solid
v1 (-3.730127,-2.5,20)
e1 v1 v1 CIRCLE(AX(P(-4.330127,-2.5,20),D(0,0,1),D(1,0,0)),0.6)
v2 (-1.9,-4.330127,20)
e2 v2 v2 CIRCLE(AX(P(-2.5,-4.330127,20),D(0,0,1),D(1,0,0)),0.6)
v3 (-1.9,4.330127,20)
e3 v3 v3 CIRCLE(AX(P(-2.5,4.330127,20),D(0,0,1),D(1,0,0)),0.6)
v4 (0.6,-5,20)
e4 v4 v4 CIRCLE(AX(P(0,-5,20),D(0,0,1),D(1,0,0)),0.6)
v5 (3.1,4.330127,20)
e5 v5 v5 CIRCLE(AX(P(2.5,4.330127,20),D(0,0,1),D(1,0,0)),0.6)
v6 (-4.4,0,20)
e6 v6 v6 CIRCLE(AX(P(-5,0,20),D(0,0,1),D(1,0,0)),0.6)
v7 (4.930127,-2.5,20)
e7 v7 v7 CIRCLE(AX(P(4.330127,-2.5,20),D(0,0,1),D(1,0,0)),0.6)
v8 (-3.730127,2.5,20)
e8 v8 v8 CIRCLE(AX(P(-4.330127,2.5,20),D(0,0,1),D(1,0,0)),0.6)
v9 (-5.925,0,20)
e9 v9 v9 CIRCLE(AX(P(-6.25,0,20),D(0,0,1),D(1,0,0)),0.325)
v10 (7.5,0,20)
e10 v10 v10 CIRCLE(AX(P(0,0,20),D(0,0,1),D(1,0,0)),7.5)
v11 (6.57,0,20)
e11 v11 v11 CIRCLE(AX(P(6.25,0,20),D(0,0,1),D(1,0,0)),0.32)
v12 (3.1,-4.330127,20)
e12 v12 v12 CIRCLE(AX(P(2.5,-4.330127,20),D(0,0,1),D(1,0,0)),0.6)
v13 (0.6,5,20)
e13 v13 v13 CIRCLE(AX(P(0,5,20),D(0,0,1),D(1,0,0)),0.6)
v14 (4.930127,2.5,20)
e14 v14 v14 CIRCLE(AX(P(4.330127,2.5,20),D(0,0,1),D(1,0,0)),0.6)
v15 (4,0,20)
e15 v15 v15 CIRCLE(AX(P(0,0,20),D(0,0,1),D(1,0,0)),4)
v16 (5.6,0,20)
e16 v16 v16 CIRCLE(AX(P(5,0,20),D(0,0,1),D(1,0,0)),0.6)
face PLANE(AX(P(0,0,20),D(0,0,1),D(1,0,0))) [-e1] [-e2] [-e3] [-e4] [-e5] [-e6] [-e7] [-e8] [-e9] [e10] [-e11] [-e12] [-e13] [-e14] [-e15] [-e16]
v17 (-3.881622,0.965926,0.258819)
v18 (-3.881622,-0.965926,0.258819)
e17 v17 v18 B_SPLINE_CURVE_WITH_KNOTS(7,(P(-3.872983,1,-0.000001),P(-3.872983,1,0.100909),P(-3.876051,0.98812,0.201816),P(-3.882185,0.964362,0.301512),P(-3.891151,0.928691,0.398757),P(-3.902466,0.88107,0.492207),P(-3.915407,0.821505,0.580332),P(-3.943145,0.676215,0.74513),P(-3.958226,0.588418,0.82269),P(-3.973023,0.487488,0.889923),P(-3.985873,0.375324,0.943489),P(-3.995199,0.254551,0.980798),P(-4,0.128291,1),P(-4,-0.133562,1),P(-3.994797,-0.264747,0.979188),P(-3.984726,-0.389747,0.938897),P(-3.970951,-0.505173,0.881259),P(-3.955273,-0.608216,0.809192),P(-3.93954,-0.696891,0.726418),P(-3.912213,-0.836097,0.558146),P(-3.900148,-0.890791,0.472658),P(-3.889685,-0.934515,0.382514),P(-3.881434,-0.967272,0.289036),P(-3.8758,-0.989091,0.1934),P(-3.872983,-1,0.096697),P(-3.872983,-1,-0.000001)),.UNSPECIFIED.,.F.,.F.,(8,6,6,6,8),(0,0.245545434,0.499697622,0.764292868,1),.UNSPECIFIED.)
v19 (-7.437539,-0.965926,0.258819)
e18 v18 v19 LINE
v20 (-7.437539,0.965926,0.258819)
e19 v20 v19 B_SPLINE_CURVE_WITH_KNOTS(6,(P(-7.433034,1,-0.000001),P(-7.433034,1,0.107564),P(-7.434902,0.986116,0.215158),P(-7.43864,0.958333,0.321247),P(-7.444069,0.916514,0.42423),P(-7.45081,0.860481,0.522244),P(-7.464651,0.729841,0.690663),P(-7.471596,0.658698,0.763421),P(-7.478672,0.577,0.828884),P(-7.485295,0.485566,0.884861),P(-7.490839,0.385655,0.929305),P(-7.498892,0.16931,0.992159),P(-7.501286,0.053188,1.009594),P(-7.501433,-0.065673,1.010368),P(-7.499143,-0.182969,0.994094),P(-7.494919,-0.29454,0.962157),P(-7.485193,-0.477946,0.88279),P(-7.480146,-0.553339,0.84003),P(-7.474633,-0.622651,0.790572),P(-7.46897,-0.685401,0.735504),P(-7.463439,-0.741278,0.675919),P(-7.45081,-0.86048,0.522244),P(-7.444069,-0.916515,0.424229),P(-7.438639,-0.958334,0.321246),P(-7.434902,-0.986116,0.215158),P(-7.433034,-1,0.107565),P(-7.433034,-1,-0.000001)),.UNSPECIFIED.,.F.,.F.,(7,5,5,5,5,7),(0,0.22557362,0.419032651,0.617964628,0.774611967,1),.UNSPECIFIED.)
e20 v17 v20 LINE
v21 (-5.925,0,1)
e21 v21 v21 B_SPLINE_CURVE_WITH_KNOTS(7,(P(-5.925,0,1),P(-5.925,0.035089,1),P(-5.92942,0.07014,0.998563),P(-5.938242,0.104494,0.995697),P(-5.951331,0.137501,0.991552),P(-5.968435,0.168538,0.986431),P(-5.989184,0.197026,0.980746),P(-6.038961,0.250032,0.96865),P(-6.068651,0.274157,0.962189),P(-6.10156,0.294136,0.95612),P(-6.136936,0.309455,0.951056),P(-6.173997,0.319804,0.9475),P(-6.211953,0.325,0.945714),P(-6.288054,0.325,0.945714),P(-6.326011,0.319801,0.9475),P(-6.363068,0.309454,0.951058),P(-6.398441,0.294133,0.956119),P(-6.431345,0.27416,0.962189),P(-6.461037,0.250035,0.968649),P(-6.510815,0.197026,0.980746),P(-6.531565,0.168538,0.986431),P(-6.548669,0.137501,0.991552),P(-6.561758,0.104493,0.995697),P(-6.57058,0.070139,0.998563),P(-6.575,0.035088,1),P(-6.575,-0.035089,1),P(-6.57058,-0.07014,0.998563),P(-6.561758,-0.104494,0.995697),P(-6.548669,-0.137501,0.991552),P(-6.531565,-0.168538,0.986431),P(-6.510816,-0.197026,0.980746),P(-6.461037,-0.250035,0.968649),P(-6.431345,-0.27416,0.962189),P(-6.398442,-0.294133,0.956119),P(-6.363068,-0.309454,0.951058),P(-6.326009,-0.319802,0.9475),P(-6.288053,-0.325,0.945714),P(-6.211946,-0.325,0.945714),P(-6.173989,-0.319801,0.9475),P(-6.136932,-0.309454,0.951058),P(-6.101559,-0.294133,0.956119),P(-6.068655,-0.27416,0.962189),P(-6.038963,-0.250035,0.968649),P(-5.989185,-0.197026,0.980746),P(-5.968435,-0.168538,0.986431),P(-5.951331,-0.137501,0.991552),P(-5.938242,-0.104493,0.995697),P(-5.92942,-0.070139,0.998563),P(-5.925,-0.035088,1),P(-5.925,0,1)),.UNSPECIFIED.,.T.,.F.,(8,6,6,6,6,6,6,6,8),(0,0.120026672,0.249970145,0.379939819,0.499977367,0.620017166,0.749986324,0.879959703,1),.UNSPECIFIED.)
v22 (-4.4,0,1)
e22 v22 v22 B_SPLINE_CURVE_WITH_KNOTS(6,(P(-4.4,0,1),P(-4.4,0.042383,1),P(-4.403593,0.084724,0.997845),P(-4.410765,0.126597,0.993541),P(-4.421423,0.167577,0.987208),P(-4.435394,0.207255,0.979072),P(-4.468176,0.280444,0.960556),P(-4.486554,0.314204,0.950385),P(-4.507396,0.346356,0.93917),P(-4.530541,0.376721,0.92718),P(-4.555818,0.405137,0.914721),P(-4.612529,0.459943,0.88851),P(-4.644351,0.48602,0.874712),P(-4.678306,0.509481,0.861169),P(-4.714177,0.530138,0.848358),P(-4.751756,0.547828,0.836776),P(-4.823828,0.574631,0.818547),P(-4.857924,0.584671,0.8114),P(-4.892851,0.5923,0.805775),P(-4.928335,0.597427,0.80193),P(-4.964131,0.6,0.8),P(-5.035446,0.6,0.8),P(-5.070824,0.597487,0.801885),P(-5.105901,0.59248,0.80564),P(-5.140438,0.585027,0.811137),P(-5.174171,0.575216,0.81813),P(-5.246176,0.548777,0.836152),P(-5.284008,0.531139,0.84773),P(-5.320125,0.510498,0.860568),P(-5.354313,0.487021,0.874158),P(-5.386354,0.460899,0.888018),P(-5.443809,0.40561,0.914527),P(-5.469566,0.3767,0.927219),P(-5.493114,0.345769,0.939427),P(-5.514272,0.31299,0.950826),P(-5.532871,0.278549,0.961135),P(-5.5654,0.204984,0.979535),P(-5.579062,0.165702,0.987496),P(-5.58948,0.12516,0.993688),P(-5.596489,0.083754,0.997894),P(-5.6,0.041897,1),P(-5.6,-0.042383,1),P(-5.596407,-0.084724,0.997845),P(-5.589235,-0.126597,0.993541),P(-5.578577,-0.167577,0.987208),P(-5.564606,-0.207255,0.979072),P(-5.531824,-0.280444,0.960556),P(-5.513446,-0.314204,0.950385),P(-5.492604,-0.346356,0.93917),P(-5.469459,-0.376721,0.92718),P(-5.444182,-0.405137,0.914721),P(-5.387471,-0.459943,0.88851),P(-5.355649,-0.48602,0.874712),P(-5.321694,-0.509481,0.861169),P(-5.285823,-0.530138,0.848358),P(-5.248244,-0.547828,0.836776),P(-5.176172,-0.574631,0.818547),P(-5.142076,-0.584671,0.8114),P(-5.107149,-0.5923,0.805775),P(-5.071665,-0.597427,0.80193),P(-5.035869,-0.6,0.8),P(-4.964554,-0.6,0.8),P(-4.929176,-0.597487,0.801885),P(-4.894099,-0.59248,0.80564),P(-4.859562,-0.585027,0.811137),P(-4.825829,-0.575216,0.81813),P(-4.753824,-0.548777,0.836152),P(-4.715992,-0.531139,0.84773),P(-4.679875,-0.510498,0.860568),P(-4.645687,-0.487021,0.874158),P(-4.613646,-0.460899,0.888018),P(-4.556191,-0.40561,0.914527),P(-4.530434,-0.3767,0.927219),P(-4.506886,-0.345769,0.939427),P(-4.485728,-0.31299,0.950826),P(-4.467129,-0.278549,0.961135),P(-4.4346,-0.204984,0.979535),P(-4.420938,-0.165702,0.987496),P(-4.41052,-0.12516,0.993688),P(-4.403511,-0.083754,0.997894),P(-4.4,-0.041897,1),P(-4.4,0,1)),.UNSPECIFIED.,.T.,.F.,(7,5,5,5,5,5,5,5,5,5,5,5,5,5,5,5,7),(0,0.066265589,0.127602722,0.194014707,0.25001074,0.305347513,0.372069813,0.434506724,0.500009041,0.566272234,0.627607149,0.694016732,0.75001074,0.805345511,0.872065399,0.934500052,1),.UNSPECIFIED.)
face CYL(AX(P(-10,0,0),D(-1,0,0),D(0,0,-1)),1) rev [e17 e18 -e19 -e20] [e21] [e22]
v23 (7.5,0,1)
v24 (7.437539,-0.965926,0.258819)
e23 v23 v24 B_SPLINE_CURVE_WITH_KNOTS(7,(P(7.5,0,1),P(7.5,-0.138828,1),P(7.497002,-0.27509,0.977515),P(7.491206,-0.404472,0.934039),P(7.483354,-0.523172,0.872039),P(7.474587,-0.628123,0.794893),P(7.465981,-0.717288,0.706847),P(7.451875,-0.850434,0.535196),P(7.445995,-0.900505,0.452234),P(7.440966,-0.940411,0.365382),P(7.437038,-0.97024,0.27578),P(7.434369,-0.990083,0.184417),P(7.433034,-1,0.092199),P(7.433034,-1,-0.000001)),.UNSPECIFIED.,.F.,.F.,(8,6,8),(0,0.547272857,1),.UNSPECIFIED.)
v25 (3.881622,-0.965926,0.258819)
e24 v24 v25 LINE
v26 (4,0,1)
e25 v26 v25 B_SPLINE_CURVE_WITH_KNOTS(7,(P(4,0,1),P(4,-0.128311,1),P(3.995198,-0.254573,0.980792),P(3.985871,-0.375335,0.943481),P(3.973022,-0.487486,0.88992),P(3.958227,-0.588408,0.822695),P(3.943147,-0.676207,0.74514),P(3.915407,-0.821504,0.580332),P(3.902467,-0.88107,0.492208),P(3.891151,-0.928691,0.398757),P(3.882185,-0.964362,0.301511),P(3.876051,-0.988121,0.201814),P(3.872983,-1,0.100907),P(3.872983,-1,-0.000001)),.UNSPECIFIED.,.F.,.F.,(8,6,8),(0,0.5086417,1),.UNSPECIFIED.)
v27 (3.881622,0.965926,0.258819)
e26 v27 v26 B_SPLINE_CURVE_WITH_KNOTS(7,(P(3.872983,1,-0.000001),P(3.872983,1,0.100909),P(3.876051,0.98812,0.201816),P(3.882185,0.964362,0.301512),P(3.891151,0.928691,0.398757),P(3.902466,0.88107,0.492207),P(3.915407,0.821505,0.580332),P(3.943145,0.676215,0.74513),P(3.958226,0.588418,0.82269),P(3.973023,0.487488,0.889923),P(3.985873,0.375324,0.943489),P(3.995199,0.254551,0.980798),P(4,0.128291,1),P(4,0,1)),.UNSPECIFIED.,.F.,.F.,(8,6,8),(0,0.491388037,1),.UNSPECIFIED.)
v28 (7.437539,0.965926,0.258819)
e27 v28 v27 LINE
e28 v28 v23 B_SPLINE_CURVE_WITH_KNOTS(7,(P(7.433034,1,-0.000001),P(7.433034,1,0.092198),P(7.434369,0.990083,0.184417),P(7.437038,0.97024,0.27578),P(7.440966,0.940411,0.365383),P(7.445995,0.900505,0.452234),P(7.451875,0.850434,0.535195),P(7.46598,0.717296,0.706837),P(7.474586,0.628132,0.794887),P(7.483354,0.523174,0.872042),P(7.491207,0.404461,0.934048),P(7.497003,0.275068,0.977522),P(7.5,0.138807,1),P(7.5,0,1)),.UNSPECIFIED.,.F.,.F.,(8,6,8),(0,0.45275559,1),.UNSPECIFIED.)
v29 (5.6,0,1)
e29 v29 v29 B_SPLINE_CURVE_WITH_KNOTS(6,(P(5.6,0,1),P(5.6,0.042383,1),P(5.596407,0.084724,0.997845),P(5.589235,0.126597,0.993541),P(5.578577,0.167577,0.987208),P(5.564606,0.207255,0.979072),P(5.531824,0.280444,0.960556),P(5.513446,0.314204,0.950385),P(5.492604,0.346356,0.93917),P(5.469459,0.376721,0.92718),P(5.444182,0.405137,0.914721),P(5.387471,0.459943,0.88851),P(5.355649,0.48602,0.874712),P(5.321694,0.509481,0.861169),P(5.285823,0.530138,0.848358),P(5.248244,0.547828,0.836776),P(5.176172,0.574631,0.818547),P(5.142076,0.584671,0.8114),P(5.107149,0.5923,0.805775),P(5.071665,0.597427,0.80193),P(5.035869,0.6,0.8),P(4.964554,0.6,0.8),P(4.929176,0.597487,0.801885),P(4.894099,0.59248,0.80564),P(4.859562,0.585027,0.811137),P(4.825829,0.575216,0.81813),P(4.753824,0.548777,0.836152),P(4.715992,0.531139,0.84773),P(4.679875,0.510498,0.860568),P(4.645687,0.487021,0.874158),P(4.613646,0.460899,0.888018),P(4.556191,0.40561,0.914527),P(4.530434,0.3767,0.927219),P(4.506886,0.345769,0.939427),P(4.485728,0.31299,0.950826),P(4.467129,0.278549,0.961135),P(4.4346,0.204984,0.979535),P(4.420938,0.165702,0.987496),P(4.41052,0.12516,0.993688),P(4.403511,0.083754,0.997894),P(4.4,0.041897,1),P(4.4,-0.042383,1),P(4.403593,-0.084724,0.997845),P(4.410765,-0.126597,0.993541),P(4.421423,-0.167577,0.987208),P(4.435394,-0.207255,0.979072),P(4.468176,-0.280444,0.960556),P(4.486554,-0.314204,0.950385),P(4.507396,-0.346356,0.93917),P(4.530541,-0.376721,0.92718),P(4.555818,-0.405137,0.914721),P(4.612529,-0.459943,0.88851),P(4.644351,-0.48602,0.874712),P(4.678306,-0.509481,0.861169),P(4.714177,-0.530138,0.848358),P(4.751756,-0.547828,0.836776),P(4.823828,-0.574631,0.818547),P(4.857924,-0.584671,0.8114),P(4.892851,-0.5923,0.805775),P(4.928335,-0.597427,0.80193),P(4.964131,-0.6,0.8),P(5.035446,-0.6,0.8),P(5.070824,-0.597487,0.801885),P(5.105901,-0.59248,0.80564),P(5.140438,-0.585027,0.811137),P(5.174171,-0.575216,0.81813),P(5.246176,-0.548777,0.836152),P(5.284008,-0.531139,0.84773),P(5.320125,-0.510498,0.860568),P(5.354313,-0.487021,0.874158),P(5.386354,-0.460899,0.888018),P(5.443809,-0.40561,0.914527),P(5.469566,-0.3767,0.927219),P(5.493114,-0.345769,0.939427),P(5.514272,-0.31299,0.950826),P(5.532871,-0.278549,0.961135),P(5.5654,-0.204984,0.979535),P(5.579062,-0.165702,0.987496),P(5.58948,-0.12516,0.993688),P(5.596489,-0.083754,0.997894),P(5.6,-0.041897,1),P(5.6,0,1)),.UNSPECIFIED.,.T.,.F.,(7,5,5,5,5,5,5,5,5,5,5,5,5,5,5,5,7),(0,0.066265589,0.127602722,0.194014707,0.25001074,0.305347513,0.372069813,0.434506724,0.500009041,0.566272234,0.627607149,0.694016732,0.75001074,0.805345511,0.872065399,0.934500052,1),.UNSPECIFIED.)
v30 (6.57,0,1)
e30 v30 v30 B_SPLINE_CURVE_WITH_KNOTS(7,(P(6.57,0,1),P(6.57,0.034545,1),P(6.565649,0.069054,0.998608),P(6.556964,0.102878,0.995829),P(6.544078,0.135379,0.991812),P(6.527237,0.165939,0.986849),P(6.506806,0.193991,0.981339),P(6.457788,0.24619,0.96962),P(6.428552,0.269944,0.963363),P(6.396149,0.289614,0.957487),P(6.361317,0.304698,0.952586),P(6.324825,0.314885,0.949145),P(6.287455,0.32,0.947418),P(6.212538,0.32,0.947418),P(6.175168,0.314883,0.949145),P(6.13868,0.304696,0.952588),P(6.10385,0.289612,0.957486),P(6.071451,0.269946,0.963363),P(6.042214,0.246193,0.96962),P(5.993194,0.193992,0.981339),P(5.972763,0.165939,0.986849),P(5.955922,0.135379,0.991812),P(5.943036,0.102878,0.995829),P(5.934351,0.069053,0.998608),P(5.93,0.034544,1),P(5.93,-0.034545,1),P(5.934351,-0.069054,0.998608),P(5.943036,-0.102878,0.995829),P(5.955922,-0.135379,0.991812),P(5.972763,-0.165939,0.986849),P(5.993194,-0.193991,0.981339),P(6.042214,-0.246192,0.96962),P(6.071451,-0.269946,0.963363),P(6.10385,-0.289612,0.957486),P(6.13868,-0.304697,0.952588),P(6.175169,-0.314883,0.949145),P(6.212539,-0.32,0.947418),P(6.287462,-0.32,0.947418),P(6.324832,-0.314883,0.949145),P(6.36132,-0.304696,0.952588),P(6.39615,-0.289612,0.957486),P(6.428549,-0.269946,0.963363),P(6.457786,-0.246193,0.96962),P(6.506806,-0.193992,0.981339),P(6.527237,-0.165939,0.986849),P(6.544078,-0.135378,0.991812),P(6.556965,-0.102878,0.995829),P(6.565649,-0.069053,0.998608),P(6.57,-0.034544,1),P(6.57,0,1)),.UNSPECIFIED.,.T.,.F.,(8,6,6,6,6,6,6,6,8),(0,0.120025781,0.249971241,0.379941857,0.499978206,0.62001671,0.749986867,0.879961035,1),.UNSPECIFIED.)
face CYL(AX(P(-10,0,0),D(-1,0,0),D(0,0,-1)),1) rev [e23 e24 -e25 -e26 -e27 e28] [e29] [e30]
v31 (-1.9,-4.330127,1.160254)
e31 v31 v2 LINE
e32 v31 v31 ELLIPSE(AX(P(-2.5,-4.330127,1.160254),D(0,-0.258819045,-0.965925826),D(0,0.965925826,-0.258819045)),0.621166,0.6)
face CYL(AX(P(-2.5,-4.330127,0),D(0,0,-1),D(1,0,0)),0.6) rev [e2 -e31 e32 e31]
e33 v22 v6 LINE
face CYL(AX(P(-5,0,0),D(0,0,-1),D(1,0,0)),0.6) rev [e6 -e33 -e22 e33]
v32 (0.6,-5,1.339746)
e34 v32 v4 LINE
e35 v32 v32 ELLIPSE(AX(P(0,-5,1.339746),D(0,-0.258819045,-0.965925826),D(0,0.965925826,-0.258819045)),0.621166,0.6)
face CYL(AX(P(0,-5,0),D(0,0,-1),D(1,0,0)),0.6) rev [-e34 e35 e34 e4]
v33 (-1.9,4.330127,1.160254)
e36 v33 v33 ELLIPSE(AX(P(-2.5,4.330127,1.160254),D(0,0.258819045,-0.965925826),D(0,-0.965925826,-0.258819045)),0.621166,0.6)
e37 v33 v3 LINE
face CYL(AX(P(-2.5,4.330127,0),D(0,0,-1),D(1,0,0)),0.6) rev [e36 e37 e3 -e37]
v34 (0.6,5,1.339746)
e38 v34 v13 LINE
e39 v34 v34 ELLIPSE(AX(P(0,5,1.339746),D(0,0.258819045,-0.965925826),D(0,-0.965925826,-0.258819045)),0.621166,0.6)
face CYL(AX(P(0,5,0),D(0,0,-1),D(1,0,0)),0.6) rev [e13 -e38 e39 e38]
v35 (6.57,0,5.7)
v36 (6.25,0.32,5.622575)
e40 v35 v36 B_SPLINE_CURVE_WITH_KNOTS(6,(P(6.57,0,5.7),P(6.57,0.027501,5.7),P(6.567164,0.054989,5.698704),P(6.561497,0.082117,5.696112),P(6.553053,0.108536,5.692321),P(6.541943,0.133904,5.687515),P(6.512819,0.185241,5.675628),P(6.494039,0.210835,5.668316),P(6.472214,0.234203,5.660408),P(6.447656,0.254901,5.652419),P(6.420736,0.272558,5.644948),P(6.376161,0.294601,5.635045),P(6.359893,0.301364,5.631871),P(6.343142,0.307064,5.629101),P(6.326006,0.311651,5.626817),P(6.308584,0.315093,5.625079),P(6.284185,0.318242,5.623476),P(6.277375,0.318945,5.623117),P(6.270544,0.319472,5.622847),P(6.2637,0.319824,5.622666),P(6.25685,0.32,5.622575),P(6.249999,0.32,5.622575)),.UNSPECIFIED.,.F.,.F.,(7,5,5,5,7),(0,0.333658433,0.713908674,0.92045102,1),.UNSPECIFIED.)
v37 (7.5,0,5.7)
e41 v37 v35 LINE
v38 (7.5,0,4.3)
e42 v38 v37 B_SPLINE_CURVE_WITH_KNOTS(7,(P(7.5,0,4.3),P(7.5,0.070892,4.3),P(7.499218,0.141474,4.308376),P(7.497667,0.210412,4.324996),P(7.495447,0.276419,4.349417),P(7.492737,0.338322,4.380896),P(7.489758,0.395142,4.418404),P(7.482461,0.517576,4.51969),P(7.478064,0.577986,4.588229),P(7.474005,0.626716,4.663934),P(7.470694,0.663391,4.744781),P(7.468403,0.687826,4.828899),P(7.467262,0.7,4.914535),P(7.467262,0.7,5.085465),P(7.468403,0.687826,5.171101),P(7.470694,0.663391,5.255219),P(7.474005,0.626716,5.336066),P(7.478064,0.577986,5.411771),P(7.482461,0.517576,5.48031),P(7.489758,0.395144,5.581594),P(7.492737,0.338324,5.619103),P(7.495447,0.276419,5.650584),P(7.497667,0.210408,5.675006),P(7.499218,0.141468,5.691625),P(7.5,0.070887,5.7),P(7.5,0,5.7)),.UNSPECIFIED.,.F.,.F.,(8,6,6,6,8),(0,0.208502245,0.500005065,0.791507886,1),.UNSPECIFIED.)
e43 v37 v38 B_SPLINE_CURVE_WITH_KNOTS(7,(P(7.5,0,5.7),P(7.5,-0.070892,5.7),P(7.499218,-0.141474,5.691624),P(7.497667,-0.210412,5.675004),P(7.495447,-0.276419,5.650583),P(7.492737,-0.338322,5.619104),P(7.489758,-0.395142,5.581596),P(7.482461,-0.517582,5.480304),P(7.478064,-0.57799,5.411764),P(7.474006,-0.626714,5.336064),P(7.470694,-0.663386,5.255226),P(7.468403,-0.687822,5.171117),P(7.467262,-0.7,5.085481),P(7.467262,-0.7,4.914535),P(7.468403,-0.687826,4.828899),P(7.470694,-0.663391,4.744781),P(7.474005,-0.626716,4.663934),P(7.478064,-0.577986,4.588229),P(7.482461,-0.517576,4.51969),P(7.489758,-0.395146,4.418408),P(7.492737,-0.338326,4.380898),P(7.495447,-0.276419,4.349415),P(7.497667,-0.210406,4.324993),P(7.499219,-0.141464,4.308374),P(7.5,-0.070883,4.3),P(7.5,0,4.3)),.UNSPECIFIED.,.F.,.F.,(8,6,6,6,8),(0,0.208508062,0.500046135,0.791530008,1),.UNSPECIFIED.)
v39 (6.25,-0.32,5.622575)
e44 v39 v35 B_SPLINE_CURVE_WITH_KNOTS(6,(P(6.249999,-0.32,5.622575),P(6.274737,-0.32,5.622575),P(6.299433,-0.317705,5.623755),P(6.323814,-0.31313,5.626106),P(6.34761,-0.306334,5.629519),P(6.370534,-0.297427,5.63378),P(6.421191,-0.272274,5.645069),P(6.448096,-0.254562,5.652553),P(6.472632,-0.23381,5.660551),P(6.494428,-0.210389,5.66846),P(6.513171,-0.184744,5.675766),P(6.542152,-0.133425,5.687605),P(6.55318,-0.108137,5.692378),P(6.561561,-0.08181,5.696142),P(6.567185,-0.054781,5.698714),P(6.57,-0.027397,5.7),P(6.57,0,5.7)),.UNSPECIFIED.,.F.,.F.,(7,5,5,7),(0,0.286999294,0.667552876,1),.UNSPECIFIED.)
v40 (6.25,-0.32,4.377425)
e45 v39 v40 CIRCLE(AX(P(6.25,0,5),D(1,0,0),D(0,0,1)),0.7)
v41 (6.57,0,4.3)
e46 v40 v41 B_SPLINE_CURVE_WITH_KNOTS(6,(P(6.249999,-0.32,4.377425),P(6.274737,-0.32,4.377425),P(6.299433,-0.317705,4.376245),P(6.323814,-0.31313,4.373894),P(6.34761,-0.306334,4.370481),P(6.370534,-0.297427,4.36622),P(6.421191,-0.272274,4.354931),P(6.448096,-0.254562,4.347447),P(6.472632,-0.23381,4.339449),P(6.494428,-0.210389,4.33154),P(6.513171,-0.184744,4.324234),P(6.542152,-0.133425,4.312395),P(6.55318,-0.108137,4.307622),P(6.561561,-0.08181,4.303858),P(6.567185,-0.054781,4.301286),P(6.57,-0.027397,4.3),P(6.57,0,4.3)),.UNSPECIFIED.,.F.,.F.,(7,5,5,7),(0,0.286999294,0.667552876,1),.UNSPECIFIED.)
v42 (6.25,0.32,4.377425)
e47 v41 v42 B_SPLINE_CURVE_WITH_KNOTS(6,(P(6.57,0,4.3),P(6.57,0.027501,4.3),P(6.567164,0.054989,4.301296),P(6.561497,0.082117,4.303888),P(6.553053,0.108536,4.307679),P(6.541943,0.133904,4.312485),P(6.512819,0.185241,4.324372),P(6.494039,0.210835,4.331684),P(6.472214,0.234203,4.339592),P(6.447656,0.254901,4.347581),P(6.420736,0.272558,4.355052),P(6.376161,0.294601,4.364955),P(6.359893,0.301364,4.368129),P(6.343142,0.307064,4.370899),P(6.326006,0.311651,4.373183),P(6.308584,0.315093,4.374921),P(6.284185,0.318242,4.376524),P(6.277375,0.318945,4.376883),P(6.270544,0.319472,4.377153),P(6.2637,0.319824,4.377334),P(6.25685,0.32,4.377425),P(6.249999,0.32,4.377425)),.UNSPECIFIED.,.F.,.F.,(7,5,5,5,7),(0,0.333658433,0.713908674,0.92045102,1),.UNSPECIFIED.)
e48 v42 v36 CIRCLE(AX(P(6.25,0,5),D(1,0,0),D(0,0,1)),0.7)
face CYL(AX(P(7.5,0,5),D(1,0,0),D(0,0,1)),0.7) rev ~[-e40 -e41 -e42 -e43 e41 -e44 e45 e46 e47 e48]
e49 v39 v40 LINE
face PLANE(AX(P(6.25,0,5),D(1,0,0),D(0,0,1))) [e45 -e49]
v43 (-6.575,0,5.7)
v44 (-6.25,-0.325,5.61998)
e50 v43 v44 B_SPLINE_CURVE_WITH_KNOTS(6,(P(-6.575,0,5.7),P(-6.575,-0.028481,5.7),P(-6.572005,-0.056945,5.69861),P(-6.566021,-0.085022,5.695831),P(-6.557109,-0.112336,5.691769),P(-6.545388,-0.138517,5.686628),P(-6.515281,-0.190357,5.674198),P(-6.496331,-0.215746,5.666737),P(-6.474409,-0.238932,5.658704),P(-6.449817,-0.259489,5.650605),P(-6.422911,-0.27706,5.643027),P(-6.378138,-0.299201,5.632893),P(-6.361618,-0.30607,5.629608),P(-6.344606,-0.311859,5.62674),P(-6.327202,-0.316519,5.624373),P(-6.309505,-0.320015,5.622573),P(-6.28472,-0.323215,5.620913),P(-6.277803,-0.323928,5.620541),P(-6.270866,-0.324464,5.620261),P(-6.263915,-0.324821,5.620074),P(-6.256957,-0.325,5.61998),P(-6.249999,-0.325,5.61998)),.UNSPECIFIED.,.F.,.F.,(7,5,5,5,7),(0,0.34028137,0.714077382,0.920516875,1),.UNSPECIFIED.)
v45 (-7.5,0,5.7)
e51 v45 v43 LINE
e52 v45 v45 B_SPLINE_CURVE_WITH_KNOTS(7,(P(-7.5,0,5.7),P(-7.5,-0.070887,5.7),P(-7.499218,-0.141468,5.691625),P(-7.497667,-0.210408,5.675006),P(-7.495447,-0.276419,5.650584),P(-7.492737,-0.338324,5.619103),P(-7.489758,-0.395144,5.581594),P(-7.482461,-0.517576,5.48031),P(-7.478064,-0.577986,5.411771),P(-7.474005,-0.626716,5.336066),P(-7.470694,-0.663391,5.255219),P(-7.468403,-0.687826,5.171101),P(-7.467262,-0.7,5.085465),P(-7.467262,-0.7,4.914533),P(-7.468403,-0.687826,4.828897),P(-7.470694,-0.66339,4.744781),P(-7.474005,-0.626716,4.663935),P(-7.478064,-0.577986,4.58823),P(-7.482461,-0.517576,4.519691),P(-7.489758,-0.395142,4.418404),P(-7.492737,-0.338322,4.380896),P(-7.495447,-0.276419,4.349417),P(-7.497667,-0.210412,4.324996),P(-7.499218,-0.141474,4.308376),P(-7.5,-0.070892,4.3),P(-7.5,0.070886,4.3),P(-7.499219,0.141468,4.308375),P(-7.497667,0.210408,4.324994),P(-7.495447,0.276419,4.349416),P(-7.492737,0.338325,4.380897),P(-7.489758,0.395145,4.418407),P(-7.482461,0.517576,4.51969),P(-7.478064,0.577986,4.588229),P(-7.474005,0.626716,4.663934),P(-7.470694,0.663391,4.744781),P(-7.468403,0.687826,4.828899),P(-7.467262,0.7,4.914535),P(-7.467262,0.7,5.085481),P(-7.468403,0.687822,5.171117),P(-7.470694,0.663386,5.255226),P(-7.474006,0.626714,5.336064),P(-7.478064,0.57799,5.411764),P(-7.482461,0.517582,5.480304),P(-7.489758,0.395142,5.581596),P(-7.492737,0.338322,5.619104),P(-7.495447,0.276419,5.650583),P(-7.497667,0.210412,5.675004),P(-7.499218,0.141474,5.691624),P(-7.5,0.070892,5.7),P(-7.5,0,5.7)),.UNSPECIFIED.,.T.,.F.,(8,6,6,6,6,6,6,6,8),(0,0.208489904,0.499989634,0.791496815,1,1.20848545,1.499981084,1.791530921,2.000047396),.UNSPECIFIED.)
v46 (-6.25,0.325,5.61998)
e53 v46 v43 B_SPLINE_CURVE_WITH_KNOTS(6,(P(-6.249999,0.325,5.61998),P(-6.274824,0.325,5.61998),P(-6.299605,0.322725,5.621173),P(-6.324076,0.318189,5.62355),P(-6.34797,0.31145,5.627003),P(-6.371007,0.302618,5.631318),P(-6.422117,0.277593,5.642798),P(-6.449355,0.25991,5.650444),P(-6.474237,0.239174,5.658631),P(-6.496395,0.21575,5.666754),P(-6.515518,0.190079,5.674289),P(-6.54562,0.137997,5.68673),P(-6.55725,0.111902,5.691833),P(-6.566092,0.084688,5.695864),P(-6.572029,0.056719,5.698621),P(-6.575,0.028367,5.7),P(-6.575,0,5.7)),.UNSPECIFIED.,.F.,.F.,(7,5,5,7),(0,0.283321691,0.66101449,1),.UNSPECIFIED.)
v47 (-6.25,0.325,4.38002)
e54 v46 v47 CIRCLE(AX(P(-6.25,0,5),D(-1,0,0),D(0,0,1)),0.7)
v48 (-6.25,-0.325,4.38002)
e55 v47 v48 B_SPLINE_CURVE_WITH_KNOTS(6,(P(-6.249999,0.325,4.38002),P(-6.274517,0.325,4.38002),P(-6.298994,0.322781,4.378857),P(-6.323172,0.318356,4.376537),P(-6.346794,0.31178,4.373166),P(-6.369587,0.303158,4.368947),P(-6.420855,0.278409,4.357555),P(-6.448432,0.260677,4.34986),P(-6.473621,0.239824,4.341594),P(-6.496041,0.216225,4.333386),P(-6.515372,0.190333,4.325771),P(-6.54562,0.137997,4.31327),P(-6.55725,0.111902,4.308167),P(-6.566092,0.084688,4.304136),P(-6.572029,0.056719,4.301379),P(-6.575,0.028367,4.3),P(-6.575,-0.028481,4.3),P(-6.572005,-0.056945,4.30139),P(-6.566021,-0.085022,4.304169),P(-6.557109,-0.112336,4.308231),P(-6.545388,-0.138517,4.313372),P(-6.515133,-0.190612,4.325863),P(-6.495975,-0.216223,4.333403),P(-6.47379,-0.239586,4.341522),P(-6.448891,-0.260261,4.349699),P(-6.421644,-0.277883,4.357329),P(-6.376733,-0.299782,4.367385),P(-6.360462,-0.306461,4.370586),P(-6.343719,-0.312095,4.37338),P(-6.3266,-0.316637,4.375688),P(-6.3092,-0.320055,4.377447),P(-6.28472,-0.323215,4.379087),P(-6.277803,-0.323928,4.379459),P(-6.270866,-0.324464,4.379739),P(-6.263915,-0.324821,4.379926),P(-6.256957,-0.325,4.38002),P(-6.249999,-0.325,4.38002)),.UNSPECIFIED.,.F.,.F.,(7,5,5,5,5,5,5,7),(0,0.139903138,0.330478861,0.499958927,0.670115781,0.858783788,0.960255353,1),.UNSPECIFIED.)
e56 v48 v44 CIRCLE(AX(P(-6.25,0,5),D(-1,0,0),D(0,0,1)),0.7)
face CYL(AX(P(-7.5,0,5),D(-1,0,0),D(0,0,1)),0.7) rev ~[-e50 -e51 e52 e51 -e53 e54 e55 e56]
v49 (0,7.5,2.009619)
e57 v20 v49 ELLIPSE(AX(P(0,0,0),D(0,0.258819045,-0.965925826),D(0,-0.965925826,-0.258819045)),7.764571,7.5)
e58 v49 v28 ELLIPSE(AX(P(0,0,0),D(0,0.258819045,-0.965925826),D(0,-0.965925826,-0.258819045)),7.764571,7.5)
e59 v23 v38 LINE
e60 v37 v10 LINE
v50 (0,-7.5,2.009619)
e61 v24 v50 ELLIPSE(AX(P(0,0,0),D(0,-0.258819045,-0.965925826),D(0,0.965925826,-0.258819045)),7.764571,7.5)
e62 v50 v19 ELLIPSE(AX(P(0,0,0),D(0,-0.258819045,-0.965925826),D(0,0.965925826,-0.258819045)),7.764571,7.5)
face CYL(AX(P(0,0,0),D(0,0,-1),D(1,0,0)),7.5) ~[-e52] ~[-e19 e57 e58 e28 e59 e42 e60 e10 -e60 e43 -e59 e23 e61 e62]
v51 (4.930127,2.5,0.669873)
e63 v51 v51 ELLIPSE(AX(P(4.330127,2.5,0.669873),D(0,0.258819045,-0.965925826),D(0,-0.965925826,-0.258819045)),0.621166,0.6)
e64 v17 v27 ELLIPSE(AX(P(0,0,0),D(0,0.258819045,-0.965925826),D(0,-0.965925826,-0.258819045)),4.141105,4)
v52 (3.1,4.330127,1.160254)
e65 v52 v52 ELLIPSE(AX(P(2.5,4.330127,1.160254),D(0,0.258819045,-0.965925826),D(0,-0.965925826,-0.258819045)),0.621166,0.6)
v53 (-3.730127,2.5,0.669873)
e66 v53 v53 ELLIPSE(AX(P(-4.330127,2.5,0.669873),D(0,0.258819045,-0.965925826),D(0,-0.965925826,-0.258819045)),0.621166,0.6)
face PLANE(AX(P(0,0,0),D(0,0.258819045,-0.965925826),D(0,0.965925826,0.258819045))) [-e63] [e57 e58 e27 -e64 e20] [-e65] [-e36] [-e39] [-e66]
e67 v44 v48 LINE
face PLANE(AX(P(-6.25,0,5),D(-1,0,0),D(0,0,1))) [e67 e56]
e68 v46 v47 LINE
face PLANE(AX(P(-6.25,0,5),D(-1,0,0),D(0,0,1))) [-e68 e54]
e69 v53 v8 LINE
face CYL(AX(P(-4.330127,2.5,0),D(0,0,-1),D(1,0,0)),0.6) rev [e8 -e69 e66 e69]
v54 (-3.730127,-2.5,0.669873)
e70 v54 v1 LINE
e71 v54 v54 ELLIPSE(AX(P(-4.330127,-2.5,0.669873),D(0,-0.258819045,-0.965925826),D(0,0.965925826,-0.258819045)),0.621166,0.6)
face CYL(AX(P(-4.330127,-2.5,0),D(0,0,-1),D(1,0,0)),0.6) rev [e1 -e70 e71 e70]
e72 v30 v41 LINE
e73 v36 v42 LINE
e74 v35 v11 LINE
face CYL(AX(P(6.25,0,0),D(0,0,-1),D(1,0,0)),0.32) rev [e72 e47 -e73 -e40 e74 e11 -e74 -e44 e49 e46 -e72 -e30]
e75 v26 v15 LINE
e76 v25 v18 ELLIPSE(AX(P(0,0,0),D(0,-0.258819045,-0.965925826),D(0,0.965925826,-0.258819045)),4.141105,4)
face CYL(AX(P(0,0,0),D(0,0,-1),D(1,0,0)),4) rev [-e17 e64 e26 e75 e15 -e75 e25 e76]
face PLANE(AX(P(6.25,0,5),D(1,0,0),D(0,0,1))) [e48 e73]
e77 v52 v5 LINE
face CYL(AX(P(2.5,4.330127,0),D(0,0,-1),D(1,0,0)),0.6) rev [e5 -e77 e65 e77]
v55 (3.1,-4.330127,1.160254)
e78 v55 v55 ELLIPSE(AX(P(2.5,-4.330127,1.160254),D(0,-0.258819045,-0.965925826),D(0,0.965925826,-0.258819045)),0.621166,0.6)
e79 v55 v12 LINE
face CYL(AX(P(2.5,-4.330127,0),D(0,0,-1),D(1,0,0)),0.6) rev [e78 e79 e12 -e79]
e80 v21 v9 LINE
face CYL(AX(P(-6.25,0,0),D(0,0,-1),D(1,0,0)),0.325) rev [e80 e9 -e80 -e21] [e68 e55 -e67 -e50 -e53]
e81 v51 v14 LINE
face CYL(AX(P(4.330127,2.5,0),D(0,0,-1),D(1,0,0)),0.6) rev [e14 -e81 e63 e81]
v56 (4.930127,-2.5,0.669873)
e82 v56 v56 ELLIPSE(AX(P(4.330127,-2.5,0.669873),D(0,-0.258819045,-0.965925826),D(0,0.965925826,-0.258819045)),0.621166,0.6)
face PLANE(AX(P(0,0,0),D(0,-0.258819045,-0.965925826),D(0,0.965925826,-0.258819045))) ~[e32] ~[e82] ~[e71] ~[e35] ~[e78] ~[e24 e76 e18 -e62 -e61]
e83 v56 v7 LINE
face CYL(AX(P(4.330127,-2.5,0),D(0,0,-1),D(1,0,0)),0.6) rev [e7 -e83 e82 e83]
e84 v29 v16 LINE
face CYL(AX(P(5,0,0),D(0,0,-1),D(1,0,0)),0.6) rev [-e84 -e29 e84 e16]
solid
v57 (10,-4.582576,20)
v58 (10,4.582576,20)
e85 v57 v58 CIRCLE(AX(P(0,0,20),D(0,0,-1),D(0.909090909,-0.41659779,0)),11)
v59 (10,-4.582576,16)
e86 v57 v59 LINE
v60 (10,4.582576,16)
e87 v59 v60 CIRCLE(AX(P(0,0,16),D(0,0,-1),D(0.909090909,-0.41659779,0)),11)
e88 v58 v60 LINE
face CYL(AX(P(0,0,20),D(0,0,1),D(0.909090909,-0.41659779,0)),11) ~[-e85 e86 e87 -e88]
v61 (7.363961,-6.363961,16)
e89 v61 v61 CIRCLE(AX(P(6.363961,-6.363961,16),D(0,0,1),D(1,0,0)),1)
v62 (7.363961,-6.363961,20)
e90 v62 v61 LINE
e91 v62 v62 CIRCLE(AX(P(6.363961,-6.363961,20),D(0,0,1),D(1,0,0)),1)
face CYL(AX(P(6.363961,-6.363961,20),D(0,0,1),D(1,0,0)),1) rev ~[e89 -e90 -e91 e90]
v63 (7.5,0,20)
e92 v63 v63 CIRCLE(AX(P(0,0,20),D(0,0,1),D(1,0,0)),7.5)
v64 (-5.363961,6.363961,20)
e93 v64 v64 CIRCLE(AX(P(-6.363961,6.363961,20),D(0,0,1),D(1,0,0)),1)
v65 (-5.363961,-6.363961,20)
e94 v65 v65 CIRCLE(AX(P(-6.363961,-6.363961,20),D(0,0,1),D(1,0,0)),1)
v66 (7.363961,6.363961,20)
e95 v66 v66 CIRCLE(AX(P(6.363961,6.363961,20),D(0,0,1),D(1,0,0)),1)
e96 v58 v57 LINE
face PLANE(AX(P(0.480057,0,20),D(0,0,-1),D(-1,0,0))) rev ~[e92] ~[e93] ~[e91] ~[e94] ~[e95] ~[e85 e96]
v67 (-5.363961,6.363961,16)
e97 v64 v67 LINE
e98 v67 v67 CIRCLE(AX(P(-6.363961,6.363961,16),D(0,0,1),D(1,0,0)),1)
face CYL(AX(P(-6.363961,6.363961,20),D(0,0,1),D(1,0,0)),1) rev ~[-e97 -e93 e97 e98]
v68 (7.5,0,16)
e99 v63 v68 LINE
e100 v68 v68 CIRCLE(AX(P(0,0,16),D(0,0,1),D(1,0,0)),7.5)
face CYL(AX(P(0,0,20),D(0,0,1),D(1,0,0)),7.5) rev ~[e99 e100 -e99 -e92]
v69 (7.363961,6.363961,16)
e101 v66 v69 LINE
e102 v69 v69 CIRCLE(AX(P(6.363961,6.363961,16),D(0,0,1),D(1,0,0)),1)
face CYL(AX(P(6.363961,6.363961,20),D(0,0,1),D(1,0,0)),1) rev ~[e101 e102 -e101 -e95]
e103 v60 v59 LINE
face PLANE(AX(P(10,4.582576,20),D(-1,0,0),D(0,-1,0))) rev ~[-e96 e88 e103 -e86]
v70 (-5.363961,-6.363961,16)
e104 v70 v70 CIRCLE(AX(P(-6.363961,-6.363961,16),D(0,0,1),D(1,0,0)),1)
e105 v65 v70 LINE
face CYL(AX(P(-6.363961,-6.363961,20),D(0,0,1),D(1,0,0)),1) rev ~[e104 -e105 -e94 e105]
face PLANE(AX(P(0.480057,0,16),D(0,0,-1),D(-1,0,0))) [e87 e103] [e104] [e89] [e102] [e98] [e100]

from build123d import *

# Parameters (mm, degrees)
SKETCH_1_R               = 7.5
SKETCH_1_R_2             = 4
SKETCH_1_R_3             = 0.6
SKETCH_1_R_4             = 0.325
SKETCH_1_R_5             = 0.32
EXTRUDE_1_DEPTH          = 20
CUT_EXTRUDE_1_DEPTH      = 23.638462845
SKETCH_3_R               = 7.5
EXTRUDE_2_DEPTH          = 4
SKETCH_5_R               = 1
CUT_EXTRUDE_2_DEPTH      = 4
CUT_EXTRUDE_3_DEPTH      = 10
CUT_EXTRUDE_3_DEPTH_BACK = 10
SKETCH_6_R               = 1
SKETCH_8_R               = 0.7
CUT_EXTRUDE_4_DEPTH      = 1.25
PATTERN_CIRCULAR_1_COUNT = 2


with BuildPart() as part:
    # 草图1 → 凸台-拉伸1 (new body)
    with BuildSketch(Plane.XY):
        Circle(SKETCH_1_R)
        Circle(SKETCH_1_R_2, mode=Mode.SUBTRACT)
        with Locations((0, 5)):
            Circle(SKETCH_1_R_3, mode=Mode.SUBTRACT)
        with Locations((2.5, 4.330127019)):
            Circle(SKETCH_1_R_3, mode=Mode.SUBTRACT)
        with Locations((4.330127019, 2.5)):
            Circle(SKETCH_1_R_3, mode=Mode.SUBTRACT)
        with Locations((5, 0)):
            Circle(SKETCH_1_R_3, mode=Mode.SUBTRACT)
        with Locations((4.330127019, -2.5)):
            Circle(SKETCH_1_R_3, mode=Mode.SUBTRACT)
        with Locations((2.5, -4.330127019)):
            Circle(SKETCH_1_R_3, mode=Mode.SUBTRACT)
        with Locations((0, -5)):
            Circle(SKETCH_1_R_3, mode=Mode.SUBTRACT)
        with Locations((-2.5, -4.330127019)):
            Circle(SKETCH_1_R_3, mode=Mode.SUBTRACT)
        with Locations((-4.330127019, -2.5)):
            Circle(SKETCH_1_R_3, mode=Mode.SUBTRACT)
        with Locations((-5, 0)):
            Circle(SKETCH_1_R_3, mode=Mode.SUBTRACT)
        with Locations((-4.330127019, 2.5)):
            Circle(SKETCH_1_R_3, mode=Mode.SUBTRACT)
        with Locations((-2.5, 4.330127019)):
            Circle(SKETCH_1_R_3, mode=Mode.SUBTRACT)
        with Locations((-6.25, 0)):
            Circle(SKETCH_1_R_4, mode=Mode.SUBTRACT)
        with Locations((6.25, 0)):
            Circle(SKETCH_1_R_5, mode=Mode.SUBTRACT)
    extrude(amount=EXTRUDE_1_DEPTH)

    # 草图2 → 切除-拉伸1 (cut, symmetric)
    with BuildSketch(Plane(origin=(0, 0, 0), x_dir=(0, 0, -1), z_dir=(1, 0, 0))):
        Polygon((0, 0), (-2.009618943, 7.5), (0, 7.5), align=None)
    cut_extrude_1 = extrude(amount=CUT_EXTRUDE_1_DEPTH, both=True, mode=Mode.SUBTRACT)

    # 镜向1: 切除-拉伸1 across plane
    add(cut_extrude_1.mirror(Plane.ZX), mode=Mode.SUBTRACT)

    # 草图6 → 切除-拉伸3 (cut, two sides: drawn at the far end of the back side and taken through both)
    with BuildSketch(Plane(origin=(0, 0, 0), x_dir=(0, 0, -1), z_dir=(1, 0, 0)).offset(-CUT_EXTRUDE_3_DEPTH_BACK)):
        Circle(SKETCH_6_R)
    extrude(amount=CUT_EXTRUDE_3_DEPTH + CUT_EXTRUDE_3_DEPTH_BACK, mode=Mode.SUBTRACT)

    # 草图8 → 切除-拉伸4 (cut)
    with BuildSketch(Plane.ZY.offset(7.5)):
        with Locations((5, 0)):
            Circle(SKETCH_8_R)
    cut_extrude_4 = extrude(amount=-CUT_EXTRUDE_4_DEPTH, mode=Mode.SUBTRACT)

    # 阵列(圆周)1: 切除-拉伸4 ×2 about axis
    pattern_circular_1_axis = Axis((0, 0, 20), (0, 0, -1))
    for i in range(1, PATTERN_CIRCULAR_1_COUNT):
        add(cut_extrude_4.rotate(pattern_circular_1_axis, i * 360 / PATTERN_CIRCULAR_1_COUNT), mode=Mode.SUBTRACT)


with BuildPart() as body_2:
    # 草图3 → 凸台-拉伸2 (new body)
    with BuildSketch(Plane.XY.offset(20)):
        with BuildLine():
            Line((10, 4.582575695), (10, -4.582575695))
            ThreePointArc((10, -4.582575695), (-11, 0), (10, 4.582575695))
        make_face()
        Circle(SKETCH_3_R, mode=Mode.SUBTRACT)
    extrude(amount=-EXTRUDE_2_DEPTH)

    # 草图5 → 切除-拉伸2 (cut)
    with BuildSketch(Plane.XY.offset(20)):
        with Locations((-6.363961031, 6.363961031)):
            Circle(SKETCH_5_R)
        with Locations((6.363961031, 6.363961031)):
            Circle(SKETCH_5_R)
        with Locations((-6.363961031, -6.363961031)):
            Circle(SKETCH_5_R)
        with Locations((6.363961031, -6.363961031)):
            Circle(SKETCH_5_R)
    extrude(amount=-CUT_EXTRUDE_2_DEPTH, mode=Mode.SUBTRACT)


solid = Compound([part.part, body_2.part])
